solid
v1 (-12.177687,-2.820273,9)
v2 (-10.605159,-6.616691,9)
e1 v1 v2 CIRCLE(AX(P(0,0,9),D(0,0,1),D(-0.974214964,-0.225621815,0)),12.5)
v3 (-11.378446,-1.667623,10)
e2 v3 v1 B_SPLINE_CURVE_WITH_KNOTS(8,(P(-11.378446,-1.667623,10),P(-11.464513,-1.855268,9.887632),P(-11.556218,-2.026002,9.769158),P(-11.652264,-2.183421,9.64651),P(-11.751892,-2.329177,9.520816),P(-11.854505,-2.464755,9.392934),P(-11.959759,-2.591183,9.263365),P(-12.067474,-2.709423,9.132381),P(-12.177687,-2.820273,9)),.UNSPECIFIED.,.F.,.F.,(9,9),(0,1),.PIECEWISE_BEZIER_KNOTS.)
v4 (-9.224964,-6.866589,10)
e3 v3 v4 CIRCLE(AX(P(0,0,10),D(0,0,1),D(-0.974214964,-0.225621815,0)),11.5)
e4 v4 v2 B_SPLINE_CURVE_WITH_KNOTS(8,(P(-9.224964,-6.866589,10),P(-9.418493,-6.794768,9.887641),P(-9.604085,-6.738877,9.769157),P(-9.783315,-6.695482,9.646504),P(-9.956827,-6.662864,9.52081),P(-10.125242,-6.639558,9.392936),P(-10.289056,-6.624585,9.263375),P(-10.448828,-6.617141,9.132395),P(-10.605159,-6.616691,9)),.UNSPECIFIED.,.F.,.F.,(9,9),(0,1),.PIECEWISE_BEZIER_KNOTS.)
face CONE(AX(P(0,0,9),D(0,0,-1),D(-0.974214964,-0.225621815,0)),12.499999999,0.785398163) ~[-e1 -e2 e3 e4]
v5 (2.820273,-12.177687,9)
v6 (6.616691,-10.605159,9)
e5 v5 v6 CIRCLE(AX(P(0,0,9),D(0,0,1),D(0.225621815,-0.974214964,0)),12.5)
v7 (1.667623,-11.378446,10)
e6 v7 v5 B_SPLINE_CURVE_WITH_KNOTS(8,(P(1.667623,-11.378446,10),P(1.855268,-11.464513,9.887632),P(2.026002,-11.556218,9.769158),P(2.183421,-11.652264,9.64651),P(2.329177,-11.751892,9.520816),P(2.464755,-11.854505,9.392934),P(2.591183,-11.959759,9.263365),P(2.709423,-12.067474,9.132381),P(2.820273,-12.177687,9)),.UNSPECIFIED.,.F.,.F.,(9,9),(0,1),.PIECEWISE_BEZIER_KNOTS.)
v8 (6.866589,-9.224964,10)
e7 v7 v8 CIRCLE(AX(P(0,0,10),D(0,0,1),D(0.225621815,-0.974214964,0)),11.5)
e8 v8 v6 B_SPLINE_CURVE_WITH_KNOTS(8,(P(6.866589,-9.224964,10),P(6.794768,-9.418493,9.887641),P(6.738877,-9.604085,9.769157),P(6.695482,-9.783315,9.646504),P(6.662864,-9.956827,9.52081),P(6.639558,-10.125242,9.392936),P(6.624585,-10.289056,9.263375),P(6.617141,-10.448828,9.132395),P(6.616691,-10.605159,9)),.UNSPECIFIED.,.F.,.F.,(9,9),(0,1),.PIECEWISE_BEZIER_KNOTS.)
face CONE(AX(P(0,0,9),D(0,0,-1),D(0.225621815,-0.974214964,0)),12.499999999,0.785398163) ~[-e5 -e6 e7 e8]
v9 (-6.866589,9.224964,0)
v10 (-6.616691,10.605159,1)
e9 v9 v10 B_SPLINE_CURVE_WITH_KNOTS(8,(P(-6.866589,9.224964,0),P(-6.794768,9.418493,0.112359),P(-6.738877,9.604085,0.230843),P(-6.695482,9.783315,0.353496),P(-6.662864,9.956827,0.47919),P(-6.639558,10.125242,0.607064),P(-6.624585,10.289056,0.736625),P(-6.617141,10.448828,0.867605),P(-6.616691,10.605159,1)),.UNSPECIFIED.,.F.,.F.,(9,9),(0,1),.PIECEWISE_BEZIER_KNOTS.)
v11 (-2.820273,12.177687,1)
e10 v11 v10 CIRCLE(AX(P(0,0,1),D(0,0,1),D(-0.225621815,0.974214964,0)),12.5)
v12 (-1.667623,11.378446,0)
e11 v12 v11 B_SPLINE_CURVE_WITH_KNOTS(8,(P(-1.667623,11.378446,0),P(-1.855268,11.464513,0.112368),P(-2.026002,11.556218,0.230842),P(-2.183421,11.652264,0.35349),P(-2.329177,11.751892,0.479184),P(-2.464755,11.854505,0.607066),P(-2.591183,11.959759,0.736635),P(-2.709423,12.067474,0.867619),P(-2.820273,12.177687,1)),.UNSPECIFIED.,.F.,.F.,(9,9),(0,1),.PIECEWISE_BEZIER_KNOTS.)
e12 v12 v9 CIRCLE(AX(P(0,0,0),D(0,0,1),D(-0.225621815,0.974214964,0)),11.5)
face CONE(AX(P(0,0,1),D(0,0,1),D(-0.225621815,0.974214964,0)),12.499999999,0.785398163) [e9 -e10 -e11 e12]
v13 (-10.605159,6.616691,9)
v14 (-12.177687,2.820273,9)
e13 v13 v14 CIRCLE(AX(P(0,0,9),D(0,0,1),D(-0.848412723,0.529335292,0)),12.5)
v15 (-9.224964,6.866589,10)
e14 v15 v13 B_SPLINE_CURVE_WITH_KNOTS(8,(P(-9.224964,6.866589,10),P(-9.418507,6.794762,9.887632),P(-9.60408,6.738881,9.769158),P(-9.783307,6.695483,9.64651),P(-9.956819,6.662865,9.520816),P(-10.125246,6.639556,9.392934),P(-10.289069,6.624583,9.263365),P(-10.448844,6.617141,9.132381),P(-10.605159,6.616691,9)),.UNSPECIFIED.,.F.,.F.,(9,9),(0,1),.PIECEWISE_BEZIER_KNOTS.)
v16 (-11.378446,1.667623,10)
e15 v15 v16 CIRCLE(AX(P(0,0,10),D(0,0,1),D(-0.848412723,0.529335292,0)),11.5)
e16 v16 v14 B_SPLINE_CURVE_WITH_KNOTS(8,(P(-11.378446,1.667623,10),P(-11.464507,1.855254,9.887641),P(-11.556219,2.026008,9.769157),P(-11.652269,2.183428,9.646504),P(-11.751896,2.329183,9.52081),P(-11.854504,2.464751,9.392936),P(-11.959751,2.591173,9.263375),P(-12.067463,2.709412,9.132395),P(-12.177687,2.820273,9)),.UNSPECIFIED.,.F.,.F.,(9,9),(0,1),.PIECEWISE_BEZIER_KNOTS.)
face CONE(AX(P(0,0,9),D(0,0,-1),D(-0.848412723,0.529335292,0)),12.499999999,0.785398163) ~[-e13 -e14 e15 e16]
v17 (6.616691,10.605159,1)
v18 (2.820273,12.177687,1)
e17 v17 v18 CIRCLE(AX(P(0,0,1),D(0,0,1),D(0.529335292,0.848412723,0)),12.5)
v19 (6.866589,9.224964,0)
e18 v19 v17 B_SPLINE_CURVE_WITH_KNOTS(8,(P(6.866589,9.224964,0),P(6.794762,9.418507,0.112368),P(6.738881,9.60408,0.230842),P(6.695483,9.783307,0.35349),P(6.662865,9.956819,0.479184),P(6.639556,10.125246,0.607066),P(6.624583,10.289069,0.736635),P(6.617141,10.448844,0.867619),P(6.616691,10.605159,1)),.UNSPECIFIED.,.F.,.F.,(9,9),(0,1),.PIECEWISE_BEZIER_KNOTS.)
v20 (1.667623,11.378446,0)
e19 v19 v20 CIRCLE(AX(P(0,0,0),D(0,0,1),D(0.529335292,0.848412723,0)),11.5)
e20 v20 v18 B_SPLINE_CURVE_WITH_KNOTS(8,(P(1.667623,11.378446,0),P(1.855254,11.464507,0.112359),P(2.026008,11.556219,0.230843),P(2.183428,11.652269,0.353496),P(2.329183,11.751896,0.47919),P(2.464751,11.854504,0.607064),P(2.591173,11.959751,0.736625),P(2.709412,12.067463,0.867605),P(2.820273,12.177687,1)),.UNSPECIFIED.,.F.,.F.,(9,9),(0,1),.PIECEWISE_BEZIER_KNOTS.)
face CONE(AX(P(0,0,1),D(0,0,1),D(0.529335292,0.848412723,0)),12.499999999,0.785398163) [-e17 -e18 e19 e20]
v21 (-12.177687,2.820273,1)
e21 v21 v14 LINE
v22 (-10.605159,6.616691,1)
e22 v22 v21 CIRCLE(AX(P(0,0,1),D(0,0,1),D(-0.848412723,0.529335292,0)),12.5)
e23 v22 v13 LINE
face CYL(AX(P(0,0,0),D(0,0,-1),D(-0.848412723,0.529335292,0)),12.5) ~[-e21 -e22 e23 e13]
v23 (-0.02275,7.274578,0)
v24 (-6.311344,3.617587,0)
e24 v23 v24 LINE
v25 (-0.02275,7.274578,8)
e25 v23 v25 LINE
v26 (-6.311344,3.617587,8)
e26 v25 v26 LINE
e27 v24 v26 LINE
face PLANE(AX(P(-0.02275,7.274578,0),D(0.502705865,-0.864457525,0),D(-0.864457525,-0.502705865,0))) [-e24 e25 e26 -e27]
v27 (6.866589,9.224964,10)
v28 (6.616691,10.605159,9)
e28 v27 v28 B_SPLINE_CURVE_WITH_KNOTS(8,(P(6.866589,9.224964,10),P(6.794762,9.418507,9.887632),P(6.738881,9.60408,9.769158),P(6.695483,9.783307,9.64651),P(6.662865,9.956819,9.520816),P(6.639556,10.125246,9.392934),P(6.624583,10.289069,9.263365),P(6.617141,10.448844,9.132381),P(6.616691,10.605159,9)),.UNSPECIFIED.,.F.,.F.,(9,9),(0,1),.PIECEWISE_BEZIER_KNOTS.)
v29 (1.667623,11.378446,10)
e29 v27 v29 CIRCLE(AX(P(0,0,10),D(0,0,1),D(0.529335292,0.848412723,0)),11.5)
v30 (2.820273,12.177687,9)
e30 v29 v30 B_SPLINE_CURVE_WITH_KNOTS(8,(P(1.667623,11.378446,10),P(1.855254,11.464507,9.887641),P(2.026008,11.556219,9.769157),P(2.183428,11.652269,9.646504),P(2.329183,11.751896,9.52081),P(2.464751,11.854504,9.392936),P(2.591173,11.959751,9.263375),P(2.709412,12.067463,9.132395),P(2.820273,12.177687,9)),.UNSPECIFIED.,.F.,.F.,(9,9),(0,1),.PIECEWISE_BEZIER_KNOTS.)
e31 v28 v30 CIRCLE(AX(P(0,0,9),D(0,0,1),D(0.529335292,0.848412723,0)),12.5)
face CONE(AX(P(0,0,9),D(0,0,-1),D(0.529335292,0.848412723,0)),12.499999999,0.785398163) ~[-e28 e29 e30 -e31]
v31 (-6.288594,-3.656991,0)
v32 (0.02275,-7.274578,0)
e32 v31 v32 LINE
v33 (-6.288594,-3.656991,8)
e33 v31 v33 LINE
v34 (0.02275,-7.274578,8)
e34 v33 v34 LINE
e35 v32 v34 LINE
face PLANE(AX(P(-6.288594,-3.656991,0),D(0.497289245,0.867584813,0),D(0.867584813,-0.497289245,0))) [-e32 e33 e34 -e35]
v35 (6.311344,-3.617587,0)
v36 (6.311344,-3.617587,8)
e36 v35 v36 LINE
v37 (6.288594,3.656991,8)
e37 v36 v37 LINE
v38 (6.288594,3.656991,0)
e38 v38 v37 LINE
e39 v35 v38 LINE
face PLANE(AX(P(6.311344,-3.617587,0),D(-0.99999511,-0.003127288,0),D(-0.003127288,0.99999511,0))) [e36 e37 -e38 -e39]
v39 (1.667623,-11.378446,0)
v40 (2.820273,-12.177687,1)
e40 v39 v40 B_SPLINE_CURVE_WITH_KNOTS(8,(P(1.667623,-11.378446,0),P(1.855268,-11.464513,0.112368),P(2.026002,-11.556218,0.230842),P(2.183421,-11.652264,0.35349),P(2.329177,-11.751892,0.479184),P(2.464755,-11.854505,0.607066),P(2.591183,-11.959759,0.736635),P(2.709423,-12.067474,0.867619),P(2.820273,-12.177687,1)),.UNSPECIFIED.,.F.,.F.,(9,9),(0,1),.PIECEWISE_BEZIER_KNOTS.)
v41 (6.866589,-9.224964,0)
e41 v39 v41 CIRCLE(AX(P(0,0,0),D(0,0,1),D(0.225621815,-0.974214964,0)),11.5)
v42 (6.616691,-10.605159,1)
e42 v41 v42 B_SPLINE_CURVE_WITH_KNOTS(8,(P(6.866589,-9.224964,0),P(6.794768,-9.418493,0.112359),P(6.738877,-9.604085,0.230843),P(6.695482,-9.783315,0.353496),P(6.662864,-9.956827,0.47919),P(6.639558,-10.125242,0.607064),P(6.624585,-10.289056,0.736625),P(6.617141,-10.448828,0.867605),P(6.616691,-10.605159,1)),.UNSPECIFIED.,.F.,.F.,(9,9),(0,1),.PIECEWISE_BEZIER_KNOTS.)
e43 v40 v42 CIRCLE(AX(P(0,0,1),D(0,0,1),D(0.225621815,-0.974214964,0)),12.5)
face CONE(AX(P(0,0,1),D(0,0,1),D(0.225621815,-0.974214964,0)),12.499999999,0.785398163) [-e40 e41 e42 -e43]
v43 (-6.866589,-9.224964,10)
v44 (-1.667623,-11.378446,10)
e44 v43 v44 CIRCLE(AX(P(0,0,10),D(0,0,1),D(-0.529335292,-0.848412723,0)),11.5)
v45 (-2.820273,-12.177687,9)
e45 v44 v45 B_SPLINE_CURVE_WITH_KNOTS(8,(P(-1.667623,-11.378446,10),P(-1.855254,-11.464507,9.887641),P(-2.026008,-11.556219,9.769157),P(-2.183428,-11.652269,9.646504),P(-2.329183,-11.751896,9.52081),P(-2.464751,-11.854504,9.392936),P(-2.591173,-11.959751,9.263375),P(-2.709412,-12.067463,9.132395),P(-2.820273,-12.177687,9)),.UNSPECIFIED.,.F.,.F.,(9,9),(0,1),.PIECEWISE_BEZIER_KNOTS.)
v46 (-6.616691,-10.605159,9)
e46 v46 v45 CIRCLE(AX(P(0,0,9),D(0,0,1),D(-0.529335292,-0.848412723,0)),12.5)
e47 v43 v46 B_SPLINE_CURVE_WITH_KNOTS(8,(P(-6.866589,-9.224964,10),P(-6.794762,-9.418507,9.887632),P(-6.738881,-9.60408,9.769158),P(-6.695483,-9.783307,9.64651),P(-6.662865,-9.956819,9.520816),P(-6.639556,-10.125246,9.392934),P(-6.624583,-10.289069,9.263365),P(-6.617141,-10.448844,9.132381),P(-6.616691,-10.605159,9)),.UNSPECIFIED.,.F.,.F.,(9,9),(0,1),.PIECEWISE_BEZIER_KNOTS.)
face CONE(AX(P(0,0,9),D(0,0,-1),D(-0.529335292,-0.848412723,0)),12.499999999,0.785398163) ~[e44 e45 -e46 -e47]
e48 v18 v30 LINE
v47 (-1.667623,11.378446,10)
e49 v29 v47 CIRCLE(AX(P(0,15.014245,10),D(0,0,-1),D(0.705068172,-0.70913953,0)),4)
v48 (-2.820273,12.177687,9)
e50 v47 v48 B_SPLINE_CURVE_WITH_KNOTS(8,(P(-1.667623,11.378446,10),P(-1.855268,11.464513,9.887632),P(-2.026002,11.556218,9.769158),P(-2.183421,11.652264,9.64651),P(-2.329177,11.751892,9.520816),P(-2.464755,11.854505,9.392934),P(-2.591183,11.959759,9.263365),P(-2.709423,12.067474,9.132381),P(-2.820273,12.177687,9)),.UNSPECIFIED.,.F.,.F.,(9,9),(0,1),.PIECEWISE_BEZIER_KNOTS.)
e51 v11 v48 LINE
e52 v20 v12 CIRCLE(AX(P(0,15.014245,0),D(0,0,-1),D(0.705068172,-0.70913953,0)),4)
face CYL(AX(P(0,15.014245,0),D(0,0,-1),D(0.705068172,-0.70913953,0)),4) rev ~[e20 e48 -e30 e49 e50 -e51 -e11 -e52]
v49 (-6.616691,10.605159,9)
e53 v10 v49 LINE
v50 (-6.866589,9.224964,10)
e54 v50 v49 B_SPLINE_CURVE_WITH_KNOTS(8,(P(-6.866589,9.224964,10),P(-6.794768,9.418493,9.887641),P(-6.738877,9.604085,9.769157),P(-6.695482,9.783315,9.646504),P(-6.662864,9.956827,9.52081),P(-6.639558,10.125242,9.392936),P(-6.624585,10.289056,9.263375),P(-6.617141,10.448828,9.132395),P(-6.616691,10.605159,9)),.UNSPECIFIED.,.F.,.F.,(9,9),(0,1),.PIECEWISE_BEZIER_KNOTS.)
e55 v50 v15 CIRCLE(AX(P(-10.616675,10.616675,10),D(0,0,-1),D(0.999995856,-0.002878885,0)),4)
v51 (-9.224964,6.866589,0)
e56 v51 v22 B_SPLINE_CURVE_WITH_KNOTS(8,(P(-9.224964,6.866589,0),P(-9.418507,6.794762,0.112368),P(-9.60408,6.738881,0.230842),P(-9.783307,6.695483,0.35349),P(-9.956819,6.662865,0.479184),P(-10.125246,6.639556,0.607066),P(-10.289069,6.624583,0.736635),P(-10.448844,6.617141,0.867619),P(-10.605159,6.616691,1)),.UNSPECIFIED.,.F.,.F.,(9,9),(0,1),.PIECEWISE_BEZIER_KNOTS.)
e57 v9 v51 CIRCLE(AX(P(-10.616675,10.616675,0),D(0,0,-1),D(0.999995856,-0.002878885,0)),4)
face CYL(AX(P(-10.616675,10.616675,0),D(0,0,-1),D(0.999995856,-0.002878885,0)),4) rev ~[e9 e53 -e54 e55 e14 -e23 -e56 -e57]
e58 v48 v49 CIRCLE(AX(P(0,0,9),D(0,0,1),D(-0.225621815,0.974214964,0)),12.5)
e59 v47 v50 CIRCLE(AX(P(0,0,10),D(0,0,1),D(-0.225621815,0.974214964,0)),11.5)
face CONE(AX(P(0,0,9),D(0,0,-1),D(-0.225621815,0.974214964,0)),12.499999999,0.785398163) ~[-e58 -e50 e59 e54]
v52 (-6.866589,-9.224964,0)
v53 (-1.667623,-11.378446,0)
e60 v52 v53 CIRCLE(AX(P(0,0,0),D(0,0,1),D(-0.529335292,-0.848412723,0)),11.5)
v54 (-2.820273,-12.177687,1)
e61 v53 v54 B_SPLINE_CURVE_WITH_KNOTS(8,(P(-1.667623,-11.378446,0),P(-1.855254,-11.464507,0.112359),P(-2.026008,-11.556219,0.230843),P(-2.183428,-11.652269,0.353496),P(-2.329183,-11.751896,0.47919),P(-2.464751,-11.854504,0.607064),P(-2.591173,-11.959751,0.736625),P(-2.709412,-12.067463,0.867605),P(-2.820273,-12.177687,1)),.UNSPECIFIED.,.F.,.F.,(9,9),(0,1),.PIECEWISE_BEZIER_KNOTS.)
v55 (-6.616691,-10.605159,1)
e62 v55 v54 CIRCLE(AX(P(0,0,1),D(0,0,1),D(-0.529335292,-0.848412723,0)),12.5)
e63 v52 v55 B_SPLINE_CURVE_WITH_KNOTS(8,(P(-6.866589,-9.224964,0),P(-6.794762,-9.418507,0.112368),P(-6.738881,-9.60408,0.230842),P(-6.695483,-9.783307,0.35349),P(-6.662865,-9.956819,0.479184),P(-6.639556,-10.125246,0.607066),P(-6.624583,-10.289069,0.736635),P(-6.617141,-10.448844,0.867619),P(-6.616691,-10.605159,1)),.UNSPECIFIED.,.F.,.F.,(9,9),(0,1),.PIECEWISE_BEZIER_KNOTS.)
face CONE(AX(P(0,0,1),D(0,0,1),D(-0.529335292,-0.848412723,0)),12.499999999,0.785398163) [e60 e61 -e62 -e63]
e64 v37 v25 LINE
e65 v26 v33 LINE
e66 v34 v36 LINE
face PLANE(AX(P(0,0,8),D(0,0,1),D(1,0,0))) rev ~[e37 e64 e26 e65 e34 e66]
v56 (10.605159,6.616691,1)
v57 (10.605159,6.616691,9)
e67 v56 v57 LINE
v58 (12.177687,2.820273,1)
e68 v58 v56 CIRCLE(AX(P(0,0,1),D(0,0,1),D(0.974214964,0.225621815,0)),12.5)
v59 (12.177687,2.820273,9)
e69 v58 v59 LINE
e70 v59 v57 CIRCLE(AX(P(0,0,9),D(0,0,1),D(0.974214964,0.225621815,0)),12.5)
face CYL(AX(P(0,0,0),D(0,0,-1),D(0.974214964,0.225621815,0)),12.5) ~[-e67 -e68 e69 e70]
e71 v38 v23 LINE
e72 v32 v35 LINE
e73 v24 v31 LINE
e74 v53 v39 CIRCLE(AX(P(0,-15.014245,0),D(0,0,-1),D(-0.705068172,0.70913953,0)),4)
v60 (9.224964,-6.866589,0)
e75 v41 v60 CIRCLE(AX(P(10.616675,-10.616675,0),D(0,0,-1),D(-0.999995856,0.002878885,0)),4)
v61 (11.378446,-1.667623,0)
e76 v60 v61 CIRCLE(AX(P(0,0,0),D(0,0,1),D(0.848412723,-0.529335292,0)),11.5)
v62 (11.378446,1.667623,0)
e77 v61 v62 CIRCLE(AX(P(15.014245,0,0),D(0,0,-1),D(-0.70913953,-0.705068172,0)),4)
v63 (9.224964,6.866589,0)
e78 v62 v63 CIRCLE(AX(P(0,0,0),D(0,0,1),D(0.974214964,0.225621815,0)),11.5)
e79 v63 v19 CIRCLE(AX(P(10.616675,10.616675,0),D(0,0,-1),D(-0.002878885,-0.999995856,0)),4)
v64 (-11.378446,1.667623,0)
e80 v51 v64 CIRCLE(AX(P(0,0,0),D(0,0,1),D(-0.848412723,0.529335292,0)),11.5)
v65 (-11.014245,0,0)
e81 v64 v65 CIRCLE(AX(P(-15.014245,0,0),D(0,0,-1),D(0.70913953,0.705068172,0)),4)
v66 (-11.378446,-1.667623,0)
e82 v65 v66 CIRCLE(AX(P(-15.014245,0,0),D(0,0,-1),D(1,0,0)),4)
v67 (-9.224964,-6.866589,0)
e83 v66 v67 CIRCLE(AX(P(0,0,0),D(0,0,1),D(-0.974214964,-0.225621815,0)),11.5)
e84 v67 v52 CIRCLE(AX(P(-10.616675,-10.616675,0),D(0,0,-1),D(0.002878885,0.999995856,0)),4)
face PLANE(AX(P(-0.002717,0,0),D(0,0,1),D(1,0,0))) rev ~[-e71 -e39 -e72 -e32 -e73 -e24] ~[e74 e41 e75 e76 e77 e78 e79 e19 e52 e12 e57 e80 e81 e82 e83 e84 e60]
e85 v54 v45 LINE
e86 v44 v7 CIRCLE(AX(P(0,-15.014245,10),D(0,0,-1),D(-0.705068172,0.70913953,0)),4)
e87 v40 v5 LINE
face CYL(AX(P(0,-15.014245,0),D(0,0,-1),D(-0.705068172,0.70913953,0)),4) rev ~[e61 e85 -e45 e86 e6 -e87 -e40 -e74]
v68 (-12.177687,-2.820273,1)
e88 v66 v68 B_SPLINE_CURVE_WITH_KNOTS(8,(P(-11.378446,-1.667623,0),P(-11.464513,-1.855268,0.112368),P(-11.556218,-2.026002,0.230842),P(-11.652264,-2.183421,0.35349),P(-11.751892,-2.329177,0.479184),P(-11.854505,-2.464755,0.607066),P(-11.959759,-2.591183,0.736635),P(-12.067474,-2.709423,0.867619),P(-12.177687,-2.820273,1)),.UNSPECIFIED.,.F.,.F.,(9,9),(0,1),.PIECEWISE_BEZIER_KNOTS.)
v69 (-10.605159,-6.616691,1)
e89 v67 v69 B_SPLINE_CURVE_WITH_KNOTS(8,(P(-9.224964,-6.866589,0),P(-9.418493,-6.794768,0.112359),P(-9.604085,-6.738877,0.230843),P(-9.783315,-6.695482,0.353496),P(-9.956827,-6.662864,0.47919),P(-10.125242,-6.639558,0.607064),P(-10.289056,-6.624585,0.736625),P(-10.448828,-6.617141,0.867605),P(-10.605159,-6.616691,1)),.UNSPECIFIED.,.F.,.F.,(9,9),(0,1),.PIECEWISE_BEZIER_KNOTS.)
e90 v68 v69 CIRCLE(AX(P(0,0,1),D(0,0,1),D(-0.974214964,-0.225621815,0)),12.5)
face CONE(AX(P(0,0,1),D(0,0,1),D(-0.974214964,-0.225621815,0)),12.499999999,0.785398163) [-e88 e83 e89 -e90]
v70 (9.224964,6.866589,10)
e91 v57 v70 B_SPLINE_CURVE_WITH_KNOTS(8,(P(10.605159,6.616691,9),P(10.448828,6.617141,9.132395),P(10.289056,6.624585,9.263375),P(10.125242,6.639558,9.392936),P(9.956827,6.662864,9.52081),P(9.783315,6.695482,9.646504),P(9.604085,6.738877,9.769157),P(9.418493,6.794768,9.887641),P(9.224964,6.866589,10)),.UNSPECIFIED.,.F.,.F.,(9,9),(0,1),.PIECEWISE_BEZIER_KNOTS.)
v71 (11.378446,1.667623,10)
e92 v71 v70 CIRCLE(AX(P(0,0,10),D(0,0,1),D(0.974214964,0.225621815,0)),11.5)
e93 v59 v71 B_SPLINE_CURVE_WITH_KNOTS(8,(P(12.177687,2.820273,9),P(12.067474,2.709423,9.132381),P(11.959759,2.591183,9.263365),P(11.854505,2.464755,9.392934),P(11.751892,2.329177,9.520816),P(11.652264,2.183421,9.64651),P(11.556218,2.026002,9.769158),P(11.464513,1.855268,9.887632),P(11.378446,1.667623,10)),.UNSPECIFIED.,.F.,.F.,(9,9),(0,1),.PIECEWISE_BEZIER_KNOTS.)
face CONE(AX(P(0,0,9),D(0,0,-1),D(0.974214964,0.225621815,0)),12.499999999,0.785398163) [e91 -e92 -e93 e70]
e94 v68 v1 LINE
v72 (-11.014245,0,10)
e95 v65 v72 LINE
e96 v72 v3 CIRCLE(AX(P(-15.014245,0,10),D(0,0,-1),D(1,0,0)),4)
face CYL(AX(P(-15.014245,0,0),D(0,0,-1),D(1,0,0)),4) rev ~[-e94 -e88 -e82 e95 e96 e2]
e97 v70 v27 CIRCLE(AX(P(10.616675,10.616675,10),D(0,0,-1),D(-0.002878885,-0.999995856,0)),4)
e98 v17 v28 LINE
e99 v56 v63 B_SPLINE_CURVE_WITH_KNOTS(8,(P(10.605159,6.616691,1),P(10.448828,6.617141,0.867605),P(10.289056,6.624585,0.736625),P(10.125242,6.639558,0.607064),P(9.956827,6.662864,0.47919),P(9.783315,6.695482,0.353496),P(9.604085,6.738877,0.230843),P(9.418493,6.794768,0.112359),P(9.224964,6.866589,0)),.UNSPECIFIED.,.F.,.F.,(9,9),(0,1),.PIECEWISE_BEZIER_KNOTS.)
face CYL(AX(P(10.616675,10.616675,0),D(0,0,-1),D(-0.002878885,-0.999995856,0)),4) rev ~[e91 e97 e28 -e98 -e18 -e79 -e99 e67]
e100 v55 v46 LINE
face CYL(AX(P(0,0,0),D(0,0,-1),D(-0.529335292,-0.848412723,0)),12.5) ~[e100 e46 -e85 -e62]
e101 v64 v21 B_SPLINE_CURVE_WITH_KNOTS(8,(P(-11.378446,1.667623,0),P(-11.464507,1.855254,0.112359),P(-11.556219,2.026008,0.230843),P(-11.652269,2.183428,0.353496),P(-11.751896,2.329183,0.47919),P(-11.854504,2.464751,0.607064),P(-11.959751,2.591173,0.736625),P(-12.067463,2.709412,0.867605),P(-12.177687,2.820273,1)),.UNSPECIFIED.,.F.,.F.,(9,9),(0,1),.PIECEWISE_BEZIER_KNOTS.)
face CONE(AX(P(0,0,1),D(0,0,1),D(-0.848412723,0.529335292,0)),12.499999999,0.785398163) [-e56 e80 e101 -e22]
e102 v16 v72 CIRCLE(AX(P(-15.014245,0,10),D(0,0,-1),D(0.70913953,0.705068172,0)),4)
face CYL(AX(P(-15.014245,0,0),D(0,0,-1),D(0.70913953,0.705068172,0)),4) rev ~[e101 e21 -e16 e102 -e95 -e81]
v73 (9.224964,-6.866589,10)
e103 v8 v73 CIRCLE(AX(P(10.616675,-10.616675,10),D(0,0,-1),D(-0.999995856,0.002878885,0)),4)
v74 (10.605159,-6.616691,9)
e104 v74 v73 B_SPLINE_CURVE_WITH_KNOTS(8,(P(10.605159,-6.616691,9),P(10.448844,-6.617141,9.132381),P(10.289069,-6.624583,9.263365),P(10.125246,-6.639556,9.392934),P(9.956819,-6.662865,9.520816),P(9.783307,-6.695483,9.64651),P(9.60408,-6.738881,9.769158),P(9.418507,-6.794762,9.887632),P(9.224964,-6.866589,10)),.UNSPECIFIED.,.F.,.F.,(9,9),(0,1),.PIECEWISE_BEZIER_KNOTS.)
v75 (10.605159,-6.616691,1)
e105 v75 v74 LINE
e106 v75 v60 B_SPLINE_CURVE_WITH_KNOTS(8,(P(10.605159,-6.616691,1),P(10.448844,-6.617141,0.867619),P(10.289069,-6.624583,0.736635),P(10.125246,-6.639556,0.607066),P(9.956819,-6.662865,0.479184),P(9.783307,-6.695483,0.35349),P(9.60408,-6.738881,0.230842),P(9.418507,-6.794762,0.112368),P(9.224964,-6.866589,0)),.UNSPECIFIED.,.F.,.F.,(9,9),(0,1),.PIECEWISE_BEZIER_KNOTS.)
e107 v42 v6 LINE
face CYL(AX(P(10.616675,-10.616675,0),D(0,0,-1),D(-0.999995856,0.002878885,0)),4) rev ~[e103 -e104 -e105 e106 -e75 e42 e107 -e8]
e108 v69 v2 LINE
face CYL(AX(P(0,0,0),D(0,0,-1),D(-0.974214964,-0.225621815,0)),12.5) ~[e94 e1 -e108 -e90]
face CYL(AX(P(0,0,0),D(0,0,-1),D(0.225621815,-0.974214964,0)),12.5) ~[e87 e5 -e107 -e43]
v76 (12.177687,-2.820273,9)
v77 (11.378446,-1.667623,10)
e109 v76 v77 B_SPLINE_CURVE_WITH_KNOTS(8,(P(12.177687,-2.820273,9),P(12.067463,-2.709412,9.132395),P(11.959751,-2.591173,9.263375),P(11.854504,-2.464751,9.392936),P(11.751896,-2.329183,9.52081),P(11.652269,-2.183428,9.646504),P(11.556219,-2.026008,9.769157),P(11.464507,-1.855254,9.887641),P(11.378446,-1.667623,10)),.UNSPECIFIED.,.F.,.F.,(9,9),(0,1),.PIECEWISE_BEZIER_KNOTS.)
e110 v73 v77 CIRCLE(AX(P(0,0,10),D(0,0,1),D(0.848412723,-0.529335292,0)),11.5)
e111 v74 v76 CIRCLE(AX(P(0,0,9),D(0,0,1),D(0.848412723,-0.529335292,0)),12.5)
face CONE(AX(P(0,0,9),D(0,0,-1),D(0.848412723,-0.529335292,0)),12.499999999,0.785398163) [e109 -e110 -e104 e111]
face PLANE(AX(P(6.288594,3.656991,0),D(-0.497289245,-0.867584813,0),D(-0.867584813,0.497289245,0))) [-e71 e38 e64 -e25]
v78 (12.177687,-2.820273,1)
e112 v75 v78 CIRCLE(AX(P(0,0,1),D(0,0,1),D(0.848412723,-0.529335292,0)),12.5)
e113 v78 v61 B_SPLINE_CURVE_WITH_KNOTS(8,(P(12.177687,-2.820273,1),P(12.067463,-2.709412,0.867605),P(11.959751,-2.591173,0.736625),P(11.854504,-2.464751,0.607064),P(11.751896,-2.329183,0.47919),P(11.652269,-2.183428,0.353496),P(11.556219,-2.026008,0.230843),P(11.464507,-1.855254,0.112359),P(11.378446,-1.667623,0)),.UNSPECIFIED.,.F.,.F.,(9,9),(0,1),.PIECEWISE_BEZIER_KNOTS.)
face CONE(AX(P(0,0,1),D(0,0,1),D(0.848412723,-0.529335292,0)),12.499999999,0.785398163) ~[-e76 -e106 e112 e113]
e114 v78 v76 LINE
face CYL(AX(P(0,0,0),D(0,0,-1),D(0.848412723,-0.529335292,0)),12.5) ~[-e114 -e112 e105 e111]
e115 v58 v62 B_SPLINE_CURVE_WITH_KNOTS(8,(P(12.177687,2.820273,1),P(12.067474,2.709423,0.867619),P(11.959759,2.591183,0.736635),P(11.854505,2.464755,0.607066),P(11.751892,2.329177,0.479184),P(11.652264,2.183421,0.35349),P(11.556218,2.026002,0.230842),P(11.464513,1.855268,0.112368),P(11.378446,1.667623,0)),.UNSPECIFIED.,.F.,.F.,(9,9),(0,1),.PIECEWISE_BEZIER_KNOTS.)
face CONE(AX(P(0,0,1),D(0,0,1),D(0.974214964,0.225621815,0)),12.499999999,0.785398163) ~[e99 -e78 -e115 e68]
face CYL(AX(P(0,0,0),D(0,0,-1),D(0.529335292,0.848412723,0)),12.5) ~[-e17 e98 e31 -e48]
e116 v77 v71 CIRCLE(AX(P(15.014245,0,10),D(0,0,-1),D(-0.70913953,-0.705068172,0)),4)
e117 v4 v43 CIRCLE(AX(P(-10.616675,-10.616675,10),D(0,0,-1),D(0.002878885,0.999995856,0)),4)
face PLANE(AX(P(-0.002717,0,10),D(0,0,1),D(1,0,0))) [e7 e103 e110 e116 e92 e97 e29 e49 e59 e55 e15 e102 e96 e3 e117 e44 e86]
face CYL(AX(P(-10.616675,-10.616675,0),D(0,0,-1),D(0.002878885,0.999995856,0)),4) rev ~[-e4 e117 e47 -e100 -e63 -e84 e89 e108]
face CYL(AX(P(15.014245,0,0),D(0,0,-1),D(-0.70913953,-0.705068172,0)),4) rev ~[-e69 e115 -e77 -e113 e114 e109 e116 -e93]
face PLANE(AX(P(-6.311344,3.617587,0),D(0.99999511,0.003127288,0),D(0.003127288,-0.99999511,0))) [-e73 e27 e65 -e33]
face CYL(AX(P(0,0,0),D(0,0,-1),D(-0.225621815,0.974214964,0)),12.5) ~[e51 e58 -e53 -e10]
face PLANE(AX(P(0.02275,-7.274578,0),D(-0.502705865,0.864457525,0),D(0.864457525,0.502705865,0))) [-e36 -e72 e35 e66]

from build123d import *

# Parameters (mm, degrees)
F1_DEPTH = 10
F2_DEPTH = 8
F3_SIZE  = 1


with BuildPart() as f1:
    # F0 (on Top) → F1 (new body)
    with BuildSketch(Plane.XY):
        with BuildLine():
            ThreePointArc((12.1776870536, -2.8202726863), (11.0142451748, 0), (12.1776870536, 2.8202726863))
            ThreePointArc((12.1776870536, 2.8202726863), (11.5484941564, 4.7835429046), (10.605159036, 6.6166911535))
            ThreePointArc((10.605159036, 6.6166911535), (7.7882474528, 7.7882474528), (6.6166911535, 10.605159036))
            ThreePointArc((6.6166911535, 10.605159036), (4.7835429046, 11.5484941564), (2.8202726863, 12.1776870536))
            ThreePointArc((2.8202726863, 12.1776870536), (0, 11.0142451748), (-2.8202726863, 12.1776870536))
            ThreePointArc((-2.8202726863, 12.1776870536), (-4.7835429046, 11.5484941564), (-6.6166911535, 10.605159036))
            ThreePointArc((-6.6166911535, 10.605159036), (-7.7882474528, 7.7882474528), (-10.605159036, 6.6166911535))
            ThreePointArc((-10.605159036, 6.6166911535), (-11.5484941564, 4.7835429046), (-12.1776870536, 2.8202726863))
            ThreePointArc((-12.1776870536, 2.8202726863), (-11.3165274676, 1.5254126516), (-11.0142451748, 0))
            ThreePointArc((-11.0142451748, 0), (-11.3165274676, -1.5254126516), (-12.1776870536, -2.8202726863))
            ThreePointArc((-12.1776870536, -2.8202726863), (-11.5484941564, -4.7835429046), (-10.605159036, -6.6166911535))
            ThreePointArc((-10.605159036, -6.6166911535), (-7.7882474528, -7.7882474528), (-6.6166911535, -10.605159036))
            ThreePointArc((-6.6166911535, -10.605159036), (-4.7835429046, -11.5484941564), (-2.8202726863, -12.1776870536))
            ThreePointArc((-2.8202726863, -12.1776870536), (0, -11.0142451748), (2.8202726863, -12.1776870536))
            ThreePointArc((2.8202726863, -12.1776870536), (4.7835429046, -11.5484941564), (6.6166911535, -10.605159036))
            ThreePointArc((6.6166911535, -10.605159036), (7.7882474528, -7.7882474528), (10.605159036, -6.6166911535))
            ThreePointArc((10.605159036, -6.6166911535), (11.5484941564, -4.7835429046), (12.1776870536, -2.8202726863))
        make_face()
        Polygon((6.2885942892, 3.6569908211), (6.3113440971, -3.617586998), (0.0227498078, -7.2745778191), (-6.2885942892, -3.6569908211), (-6.3113440971, 3.617586998), (-0.0227498078, 7.2745778191), align=None, mode=Mode.SUBTRACT)
        Polygon((0.0227498078, -7.2745778191), (6.3113440971, -3.617586998), (6.2885942892, 3.6569908211), (-0.0227498078, 7.2745778191), (-6.3113440971, 3.617586998), (-6.2885942892, -3.6569908211), align=None)
    extrude(amount=F1_DEPTH)

    # F0 (on Top) → F2 (cut)
    with BuildSketch(Plane.XY):
        Polygon((0.0227498078, -7.2745778191), (6.3113440971, -3.617586998), (6.2885942892, 3.6569908211), (-0.0227498078, 7.2745778191), (-6.3113440971, 3.617586998), (-6.2885942892, -3.6569908211), align=None)
    extrude(amount=F2_DEPTH, mode=Mode.SUBTRACT)

    # F3
    f3_edges = [f1.edges().sort_by_distance(p)[0] for p in [
        (11.548494, -4.783543, 10),
        (11.548494, 4.783543, 10),
        (4.783543, 11.548494, 10),
        (-4.783543, 11.548494, 10),
        (-11.548494, 4.783543, 10),
        (-11.548494, -4.783543, 10),
        (-4.783543, -11.548494, 10),
        (4.783543, -11.548494, 10),
        (4.783543, -11.548494, 0),
        (11.548494, -4.783543, 0),
        (11.548494, 4.783543, 0),
        (4.783543, 11.548494, 0),
        (-4.783543, 11.548494, 0),
        (-11.548494, 4.783543, 0),
        (-11.548494, -4.783543, 0),
        (-4.783543, -11.548494, 0),
    ]]
    chamfer(f3_edges, length=F3_SIZE)


solid = f1.part
